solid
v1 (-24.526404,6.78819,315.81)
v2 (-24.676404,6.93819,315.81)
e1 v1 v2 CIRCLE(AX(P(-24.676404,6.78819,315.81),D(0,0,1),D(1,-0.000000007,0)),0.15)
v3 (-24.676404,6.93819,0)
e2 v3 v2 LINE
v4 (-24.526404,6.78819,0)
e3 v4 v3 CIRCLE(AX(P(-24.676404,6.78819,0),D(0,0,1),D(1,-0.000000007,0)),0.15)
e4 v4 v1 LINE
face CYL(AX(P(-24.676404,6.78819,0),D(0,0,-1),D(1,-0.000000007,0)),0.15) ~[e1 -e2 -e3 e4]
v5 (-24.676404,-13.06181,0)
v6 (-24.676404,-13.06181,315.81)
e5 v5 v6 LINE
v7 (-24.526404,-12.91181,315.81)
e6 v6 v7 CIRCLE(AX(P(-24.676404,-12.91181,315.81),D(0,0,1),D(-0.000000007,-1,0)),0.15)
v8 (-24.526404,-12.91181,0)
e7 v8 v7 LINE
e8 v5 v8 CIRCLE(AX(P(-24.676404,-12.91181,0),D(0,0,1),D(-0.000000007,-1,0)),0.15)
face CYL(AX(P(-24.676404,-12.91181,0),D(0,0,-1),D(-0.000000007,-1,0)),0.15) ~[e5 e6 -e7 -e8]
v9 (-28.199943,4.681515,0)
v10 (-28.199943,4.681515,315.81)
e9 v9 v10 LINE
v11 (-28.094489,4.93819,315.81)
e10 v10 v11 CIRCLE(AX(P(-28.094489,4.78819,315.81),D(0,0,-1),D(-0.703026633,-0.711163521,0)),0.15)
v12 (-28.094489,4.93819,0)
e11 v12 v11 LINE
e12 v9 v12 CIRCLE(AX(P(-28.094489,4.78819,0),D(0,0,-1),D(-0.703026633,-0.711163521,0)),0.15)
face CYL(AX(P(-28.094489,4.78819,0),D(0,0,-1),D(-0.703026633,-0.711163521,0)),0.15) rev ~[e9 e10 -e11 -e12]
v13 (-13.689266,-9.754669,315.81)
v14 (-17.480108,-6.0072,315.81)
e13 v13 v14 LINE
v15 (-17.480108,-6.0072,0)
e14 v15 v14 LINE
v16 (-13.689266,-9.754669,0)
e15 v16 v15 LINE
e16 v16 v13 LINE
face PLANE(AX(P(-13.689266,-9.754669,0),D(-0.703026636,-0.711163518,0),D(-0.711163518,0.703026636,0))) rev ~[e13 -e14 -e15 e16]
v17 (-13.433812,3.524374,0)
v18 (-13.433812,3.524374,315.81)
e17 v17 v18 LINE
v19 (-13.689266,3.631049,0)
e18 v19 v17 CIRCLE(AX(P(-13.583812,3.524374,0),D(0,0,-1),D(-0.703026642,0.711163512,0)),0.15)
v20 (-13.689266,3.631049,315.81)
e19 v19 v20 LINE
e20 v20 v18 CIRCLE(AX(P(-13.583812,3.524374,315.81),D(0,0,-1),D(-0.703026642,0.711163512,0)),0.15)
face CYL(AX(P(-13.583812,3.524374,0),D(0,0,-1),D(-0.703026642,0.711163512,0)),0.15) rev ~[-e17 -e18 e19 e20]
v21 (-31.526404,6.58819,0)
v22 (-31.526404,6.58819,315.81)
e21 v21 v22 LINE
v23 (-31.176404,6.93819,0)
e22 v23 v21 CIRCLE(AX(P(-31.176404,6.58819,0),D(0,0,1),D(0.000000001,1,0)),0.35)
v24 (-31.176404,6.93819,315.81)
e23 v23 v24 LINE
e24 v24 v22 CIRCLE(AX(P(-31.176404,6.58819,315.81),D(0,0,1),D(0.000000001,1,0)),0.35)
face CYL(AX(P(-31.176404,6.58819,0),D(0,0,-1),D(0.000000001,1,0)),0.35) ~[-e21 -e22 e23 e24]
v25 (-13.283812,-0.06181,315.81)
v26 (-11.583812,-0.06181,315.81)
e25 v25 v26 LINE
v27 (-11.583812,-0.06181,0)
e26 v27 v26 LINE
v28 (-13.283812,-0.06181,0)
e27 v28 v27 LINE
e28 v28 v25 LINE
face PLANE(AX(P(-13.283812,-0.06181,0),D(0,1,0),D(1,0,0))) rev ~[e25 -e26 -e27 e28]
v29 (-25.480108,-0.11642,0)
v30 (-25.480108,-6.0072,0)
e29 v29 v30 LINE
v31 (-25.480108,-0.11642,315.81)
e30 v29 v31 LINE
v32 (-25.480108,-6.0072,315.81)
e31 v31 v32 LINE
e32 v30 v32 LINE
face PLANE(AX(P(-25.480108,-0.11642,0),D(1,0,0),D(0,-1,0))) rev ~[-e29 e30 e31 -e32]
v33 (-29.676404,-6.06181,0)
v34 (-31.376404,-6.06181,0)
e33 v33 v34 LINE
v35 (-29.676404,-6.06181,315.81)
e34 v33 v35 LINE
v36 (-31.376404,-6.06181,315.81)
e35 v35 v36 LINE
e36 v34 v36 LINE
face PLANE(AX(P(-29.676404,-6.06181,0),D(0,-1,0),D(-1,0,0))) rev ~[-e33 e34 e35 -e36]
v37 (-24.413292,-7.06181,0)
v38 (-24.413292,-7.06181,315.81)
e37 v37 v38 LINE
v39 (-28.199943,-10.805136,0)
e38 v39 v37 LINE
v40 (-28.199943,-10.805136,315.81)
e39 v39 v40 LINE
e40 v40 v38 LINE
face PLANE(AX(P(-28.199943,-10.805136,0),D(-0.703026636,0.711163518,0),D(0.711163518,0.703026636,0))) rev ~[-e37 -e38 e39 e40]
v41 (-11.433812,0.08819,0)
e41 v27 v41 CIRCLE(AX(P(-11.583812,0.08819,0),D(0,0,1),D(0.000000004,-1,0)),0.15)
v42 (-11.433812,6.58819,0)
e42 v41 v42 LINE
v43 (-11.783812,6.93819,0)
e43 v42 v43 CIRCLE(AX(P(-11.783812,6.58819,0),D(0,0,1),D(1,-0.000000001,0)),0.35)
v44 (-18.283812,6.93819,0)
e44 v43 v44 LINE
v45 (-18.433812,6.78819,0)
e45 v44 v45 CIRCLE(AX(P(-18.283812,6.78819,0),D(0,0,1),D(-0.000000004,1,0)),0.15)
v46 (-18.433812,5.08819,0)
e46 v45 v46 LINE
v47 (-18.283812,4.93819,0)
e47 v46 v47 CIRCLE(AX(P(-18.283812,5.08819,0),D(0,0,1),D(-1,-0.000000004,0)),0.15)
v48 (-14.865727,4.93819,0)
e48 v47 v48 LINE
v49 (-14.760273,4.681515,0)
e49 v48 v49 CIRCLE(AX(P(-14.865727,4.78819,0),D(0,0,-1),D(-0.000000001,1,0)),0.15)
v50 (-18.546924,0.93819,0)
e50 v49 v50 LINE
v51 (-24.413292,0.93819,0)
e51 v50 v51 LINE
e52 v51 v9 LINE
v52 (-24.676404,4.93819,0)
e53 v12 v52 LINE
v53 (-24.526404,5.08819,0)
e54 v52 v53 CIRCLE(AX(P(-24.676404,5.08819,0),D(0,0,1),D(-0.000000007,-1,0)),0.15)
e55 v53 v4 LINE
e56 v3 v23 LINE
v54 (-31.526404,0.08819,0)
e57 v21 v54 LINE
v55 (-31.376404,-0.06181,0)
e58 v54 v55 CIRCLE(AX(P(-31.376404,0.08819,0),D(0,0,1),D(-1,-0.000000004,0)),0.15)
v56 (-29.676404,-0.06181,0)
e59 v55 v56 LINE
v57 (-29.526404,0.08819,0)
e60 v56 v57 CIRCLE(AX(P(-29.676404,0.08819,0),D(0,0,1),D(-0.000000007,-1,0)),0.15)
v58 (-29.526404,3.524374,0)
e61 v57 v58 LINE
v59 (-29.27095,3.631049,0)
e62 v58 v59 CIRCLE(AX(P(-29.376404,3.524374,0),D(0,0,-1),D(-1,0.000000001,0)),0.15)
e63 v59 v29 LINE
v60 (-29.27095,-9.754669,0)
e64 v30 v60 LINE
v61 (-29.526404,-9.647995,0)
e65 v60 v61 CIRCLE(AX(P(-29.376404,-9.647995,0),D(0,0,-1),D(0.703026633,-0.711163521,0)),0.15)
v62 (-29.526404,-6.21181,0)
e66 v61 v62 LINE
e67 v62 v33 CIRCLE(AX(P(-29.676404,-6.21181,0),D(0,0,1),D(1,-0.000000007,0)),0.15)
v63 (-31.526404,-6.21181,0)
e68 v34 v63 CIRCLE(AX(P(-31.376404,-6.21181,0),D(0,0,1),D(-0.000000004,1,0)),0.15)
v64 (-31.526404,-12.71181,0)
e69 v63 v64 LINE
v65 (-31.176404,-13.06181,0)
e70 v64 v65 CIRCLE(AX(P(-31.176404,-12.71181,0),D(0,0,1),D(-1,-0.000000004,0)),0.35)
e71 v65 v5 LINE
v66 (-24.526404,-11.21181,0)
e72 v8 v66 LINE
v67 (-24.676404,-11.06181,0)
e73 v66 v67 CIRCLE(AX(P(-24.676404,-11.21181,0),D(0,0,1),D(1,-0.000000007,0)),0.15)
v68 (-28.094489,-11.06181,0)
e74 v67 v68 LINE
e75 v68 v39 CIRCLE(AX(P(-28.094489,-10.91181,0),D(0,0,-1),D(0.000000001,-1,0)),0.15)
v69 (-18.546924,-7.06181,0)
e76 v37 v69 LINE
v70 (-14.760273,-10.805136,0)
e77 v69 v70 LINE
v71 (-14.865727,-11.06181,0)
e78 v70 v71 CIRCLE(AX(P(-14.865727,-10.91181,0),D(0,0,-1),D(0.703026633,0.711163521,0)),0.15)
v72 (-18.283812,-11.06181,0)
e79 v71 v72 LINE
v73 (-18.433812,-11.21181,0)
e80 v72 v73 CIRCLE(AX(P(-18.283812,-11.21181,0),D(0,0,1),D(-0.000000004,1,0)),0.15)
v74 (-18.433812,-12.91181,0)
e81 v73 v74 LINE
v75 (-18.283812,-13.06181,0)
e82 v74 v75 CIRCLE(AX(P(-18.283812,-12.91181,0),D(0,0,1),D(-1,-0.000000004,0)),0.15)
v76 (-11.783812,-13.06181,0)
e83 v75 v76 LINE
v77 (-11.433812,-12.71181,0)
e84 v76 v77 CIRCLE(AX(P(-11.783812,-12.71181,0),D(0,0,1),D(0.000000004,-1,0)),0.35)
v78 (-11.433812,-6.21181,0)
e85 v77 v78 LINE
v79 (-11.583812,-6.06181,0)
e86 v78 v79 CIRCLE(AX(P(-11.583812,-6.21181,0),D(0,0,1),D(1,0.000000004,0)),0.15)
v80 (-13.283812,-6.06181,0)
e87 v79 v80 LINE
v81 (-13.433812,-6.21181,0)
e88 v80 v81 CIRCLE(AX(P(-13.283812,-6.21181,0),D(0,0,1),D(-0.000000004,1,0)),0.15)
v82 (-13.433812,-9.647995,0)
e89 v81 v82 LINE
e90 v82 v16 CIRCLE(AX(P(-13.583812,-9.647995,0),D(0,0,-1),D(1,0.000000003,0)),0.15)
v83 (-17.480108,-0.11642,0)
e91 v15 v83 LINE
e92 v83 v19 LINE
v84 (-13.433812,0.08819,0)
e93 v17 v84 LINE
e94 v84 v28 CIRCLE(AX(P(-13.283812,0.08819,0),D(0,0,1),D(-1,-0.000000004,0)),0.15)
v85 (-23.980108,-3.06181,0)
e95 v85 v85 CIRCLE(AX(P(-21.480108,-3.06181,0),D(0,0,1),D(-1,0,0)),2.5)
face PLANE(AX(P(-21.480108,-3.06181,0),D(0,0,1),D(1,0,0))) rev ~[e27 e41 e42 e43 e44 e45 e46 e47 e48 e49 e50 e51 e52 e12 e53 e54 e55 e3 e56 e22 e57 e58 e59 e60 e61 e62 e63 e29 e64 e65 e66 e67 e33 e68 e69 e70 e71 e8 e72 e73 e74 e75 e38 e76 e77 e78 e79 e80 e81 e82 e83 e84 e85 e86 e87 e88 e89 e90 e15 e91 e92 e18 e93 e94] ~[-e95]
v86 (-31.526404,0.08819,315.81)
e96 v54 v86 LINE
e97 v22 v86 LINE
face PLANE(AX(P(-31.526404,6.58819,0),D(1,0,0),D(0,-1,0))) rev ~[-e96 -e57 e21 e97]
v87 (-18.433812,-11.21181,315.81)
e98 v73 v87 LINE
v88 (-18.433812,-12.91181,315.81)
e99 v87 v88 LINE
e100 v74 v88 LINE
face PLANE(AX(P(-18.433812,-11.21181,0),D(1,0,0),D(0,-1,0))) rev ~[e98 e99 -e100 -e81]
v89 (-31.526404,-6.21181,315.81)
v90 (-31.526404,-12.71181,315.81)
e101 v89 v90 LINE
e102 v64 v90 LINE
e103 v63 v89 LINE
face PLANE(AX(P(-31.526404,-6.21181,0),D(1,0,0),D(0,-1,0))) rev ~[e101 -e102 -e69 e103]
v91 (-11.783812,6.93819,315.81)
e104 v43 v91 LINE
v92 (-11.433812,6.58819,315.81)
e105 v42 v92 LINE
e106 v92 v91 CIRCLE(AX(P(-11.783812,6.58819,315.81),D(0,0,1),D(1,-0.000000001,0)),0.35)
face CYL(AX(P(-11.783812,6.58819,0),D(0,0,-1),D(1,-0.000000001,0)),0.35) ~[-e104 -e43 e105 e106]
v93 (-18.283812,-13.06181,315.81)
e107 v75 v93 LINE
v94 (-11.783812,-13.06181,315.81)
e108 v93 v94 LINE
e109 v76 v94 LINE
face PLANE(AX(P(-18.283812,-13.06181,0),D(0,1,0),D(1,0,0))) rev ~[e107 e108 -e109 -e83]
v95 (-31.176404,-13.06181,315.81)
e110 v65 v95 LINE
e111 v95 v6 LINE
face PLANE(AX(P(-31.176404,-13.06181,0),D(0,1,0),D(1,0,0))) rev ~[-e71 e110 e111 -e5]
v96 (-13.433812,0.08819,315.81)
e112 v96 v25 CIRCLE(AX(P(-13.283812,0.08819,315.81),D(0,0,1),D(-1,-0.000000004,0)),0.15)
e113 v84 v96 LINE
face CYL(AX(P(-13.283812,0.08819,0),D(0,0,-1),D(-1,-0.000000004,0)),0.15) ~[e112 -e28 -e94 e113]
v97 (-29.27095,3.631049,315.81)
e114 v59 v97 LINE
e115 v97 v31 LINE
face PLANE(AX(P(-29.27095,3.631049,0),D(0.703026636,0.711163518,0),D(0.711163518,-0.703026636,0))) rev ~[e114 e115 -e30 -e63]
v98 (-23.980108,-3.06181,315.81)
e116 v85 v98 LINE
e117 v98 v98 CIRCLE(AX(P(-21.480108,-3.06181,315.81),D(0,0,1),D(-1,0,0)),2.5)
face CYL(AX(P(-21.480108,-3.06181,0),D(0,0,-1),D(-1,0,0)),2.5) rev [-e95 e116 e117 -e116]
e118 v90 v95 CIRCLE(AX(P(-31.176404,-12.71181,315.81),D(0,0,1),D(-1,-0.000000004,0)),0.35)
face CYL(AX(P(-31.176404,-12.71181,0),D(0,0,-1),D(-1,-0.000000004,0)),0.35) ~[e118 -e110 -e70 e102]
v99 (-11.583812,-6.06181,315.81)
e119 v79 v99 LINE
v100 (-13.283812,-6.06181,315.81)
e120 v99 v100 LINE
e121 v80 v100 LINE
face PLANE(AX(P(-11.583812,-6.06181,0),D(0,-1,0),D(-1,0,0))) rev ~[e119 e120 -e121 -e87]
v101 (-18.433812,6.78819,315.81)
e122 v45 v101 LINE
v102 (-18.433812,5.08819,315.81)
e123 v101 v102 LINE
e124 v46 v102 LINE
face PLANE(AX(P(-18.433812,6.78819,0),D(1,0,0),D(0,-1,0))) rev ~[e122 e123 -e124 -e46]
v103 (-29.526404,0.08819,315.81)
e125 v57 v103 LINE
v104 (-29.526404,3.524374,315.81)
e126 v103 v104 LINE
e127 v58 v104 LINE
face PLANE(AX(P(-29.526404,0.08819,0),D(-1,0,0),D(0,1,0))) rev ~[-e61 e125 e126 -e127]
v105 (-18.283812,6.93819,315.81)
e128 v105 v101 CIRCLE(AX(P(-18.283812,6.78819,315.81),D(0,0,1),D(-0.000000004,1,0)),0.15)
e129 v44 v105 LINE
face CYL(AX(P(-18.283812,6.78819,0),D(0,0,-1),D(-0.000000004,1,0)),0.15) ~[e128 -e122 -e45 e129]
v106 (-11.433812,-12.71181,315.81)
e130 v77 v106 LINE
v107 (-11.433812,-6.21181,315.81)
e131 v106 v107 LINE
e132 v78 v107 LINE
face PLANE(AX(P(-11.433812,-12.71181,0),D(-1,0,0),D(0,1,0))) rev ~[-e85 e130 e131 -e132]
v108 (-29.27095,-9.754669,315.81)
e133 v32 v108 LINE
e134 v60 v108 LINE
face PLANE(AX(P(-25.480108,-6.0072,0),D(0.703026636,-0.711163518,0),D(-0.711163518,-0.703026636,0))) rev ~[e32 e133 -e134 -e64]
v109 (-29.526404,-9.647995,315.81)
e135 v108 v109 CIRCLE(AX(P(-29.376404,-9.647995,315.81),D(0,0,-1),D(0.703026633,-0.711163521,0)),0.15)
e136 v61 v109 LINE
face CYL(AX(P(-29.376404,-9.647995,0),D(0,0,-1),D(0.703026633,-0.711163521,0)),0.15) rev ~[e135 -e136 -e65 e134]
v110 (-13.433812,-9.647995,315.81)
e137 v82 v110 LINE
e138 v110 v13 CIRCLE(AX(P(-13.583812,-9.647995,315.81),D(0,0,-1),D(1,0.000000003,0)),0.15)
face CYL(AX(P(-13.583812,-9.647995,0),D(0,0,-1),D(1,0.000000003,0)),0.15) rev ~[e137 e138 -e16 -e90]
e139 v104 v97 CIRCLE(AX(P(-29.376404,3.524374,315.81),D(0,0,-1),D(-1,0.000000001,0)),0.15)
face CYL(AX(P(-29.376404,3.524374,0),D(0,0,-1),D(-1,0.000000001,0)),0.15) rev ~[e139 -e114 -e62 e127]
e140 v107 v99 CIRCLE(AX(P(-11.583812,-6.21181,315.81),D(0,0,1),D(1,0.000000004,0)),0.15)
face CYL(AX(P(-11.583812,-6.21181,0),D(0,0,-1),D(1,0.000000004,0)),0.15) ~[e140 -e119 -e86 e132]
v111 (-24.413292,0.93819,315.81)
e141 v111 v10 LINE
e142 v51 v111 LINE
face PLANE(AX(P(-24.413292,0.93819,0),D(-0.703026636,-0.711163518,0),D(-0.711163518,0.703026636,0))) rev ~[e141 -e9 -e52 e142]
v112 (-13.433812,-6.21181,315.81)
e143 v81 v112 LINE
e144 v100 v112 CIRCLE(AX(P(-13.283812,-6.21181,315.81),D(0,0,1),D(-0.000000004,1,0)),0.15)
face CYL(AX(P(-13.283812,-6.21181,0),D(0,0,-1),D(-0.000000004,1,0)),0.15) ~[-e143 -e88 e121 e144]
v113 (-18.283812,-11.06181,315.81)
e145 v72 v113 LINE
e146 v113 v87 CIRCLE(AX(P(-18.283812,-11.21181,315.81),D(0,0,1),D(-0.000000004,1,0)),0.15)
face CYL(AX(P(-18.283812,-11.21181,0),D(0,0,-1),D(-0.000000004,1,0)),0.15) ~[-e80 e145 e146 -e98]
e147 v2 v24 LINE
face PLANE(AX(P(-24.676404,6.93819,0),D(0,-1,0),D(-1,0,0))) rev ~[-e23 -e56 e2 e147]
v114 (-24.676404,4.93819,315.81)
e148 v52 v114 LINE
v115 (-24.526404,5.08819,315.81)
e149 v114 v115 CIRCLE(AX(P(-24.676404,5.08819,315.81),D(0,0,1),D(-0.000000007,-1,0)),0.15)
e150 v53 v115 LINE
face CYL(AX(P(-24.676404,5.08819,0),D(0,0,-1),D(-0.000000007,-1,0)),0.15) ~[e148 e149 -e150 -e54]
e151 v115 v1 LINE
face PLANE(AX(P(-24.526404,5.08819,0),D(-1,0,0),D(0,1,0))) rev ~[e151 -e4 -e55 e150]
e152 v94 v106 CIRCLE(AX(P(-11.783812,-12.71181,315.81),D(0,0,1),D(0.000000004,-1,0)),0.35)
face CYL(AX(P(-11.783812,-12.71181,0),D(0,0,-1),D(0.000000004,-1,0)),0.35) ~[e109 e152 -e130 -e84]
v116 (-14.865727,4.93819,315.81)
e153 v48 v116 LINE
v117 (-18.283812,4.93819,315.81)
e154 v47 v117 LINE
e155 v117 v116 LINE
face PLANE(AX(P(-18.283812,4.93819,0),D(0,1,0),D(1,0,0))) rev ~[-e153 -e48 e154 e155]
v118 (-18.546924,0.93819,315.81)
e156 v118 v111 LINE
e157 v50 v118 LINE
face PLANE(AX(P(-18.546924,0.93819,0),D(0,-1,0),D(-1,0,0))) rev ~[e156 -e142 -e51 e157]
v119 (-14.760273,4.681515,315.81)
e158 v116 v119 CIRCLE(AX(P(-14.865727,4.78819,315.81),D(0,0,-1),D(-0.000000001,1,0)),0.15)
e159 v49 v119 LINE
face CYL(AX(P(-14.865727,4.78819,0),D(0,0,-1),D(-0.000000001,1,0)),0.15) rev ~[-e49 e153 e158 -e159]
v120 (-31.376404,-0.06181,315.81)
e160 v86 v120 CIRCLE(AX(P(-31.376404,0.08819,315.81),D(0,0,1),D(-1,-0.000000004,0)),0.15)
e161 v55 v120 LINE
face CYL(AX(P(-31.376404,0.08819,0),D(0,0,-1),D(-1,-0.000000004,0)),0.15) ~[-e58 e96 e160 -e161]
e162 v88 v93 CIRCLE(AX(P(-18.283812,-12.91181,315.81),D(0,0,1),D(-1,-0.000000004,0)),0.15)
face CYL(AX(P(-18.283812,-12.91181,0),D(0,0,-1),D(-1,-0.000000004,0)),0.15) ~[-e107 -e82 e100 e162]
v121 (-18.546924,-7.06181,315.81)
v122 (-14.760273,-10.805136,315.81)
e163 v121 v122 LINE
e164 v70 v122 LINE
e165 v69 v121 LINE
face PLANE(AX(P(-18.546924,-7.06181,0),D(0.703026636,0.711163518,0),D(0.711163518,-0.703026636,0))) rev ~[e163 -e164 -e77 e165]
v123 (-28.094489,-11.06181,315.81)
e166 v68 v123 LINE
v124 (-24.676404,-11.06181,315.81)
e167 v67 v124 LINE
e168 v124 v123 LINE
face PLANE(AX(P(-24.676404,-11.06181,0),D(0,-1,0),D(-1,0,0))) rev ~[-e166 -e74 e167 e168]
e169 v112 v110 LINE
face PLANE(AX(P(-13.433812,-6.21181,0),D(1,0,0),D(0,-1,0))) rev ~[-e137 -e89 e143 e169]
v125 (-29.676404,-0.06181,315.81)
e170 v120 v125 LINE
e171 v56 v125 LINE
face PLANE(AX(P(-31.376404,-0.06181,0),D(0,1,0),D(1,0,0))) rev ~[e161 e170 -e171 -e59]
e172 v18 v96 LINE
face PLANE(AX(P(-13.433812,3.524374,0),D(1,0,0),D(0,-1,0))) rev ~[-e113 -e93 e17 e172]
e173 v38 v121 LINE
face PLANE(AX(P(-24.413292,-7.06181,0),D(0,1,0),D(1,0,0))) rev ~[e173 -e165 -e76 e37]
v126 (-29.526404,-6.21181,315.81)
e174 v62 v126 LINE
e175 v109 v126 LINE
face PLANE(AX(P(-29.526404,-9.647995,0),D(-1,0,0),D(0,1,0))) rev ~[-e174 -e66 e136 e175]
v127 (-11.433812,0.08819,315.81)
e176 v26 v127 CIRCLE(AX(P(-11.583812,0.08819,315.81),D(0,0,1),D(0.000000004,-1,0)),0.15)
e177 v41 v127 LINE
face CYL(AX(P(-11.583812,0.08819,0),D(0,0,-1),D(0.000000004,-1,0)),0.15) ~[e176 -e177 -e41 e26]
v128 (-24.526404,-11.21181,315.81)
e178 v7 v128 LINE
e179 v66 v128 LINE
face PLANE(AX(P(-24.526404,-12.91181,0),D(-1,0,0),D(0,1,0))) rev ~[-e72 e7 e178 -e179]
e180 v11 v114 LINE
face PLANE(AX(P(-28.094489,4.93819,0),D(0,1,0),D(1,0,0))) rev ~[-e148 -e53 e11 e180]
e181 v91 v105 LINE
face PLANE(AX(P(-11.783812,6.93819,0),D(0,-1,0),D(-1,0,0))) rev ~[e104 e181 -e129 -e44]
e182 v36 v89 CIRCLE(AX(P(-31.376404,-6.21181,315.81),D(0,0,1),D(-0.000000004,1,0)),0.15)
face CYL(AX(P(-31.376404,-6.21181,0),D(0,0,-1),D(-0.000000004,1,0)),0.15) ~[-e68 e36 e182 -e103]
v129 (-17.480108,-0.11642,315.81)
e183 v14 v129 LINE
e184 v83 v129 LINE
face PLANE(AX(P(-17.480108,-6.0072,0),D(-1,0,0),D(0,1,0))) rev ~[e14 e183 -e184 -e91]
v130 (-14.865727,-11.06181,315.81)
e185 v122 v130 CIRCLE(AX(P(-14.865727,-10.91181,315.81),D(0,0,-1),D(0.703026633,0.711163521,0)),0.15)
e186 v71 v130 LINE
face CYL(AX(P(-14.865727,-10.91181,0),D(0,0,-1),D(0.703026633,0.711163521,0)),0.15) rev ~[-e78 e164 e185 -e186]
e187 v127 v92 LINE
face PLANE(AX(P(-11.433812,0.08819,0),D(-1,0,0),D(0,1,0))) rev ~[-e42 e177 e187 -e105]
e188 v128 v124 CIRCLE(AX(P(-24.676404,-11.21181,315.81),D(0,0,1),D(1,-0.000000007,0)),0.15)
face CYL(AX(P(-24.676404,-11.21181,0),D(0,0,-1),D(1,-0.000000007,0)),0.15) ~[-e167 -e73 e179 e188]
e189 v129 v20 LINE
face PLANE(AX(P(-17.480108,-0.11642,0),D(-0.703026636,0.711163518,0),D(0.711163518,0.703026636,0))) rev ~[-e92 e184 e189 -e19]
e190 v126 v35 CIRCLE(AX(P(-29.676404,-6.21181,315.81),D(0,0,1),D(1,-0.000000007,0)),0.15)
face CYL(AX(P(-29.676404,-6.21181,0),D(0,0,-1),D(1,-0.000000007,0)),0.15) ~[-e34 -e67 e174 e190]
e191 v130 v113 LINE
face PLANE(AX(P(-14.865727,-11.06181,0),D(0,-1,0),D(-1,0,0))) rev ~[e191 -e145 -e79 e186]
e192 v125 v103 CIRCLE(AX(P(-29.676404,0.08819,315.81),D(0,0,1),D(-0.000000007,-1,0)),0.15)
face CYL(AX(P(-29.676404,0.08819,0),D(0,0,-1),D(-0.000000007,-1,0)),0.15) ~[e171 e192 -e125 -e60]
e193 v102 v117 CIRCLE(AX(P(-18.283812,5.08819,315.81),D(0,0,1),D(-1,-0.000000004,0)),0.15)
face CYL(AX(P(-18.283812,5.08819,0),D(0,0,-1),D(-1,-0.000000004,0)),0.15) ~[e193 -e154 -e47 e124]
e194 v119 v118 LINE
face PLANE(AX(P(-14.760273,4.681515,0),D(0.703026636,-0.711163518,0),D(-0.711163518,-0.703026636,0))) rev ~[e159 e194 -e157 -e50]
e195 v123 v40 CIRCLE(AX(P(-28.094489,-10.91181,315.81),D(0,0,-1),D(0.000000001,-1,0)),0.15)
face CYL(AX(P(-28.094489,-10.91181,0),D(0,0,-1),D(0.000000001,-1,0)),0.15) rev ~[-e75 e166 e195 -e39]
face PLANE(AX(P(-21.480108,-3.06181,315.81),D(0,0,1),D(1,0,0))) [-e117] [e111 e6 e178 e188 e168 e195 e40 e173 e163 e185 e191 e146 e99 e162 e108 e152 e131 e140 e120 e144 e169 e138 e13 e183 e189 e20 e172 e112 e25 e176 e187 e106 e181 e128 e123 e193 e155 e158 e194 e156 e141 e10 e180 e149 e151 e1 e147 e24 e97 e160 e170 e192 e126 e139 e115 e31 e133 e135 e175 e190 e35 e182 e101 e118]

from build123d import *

# Parameters (mm, degrees)
SKETCH1_R           = 2.5
BOSS_EXTRUDE1_DEPTH = 315.81


with BuildPart() as part:
    # Sketch1 → Boss-Extrude1 (new body)
    with BuildSketch(Plane.XY):
        with BuildLine():
            Line((-31.376404226, -0.06181021), (-29.676404226, -0.06181021))
            ThreePointArc((-29.676404226, -0.06181021), (-29.570338208, -0.017876227), (-29.526404226, 0.08818979))
            Line((-29.526404226, 0.08818979), (-29.526404226, 3.524374304))
            ThreePointArc((-29.526404226, 3.524374304), (-29.43420518, 3.662790523), (-29.27095023, 3.631048831))
            Line((-29.27095023, 3.631048831), (-25.480107929, -0.116419988))
            Line((-25.480107929, -0.116419988), (-25.480107929, -6.007200432))
            Line((-25.480107929, -6.007200432), (-29.27095023, -9.754669251))
            ThreePointArc((-29.27095023, -9.754669251), (-29.43420518, -9.786410942), (-29.526404226, -9.647994723))
            Line((-29.526404226, -9.647994723), (-29.526404226, -6.21181021))
            ThreePointArc((-29.526404226, -6.21181021), (-29.570338208, -6.105744193), (-29.676404226, -6.06181021))
            Line((-29.676404226, -6.06181021), (-31.376404226, -6.06181021))
            ThreePointArc((-31.376404226, -6.06181021), (-31.482470243, -6.105744193), (-31.526404226, -6.21181021))
            Line((-31.526404226, -6.21181021), (-31.526404226, -12.71181021))
            ThreePointArc((-31.526404226, -12.71181021), (-31.423891599, -12.959297583), (-31.176404226, -13.06181021))
            Line((-31.176404226, -13.06181021), (-24.676404226, -13.06181021))
            ThreePointArc((-24.676404226, -13.06181021), (-24.570338208, -13.017876227), (-24.526404226, -12.91181021))
            Line((-24.526404226, -12.91181021), (-24.526404226, -11.21181021))
            ThreePointArc((-24.526404226, -11.21181021), (-24.570338208, -11.105744193), (-24.676404226, -11.06181021))
            Line((-24.676404226, -11.06181021), (-28.094489023, -11.06181021))
            ThreePointArc((-28.094489023, -11.06181021), (-28.233235517, -10.96881381), (-28.199943018, -10.805135682))
            Line((-28.199943018, -10.805135682), (-24.41329202, -7.06181021))
            Line((-24.41329202, -7.06181021), (-18.546923839, -7.06181021))
            Line((-18.546923839, -7.06181021), (-14.760272841, -10.805135682))
            ThreePointArc((-14.760272841, -10.805135682), (-14.726980342, -10.96881381), (-14.865726836, -11.06181021))
            Line((-14.865726836, -11.06181021), (-18.283811633, -11.06181021))
            ThreePointArc((-18.283811633, -11.06181021), (-18.38987765, -11.105744193), (-18.433811633, -11.21181021))
            Line((-18.433811633, -11.21181021), (-18.433811633, -12.91181021))
            ThreePointArc((-18.433811633, -12.91181021), (-18.38987765, -13.017876227), (-18.283811633, -13.06181021))
            Line((-18.283811633, -13.06181021), (-11.783811633, -13.06181021))
            ThreePointArc((-11.783811633, -13.06181021), (-11.53632426, -12.959297583), (-11.433811633, -12.71181021))
            Line((-11.433811633, -12.71181021), (-11.433811633, -6.21181021))
            ThreePointArc((-11.433811633, -6.21181021), (-11.477745616, -6.105744193), (-11.583811633, -6.06181021))
            Line((-11.583811633, -6.06181021), (-13.283811633, -6.06181021))
            ThreePointArc((-13.283811633, -6.06181021), (-13.38987765, -6.105744193), (-13.433811633, -6.21181021))
            Line((-13.433811633, -6.21181021), (-13.433811633, -9.647994723))
            ThreePointArc((-13.433811633, -9.647994723), (-13.526010678, -9.786410942), (-13.689265628, -9.754669251))
            Line((-13.689265628, -9.754669251), (-17.480107929, -6.007200432))
            Line((-17.480107929, -6.007200432), (-17.480107929, -0.116419988))
            Line((-17.480107929, -0.116419988), (-13.689265628, 3.631048831))
            ThreePointArc((-13.689265628, 3.631048831), (-13.526010678, 3.662790523), (-13.433811633, 3.524374304))
            Line((-13.433811633, 3.524374304), (-13.433811633, 0.08818979))
            ThreePointArc((-13.433811633, 0.08818979), (-13.38987765, -0.017876227), (-13.283811633, -0.06181021))
            Line((-13.283811633, -0.06181021), (-11.583811633, -0.06181021))
            ThreePointArc((-11.583811633, -0.06181021), (-11.477745616, -0.017876227), (-11.433811633, 0.08818979))
            Line((-11.433811633, 0.08818979), (-11.433811633, 6.58818979))
            ThreePointArc((-11.433811633, 6.58818979), (-11.53632426, 6.835677164), (-11.783811633, 6.93818979))
            Line((-11.783811633, 6.93818979), (-18.283811633, 6.93818979))
            ThreePointArc((-18.283811633, 6.93818979), (-18.38987765, 6.894255807), (-18.433811633, 6.78818979))
            Line((-18.433811633, 6.78818979), (-18.433811633, 5.08818979))
            ThreePointArc((-18.433811633, 5.08818979), (-18.38987765, 4.982123773), (-18.283811633, 4.93818979))
            Line((-18.283811633, 4.93818979), (-14.865726836, 4.93818979))
            ThreePointArc((-14.865726836, 4.93818979), (-14.726980342, 4.84519339), (-14.760272841, 4.681515262))
            Line((-14.760272841, 4.681515262), (-18.546923839, 0.93818979))
            Line((-18.546923839, 0.93818979), (-24.41329202, 0.93818979))
            Line((-24.41329202, 0.93818979), (-28.199943018, 4.681515262))
            ThreePointArc((-28.199943018, 4.681515262), (-28.233235517, 4.84519339), (-28.094489023, 4.93818979))
            Line((-28.094489023, 4.93818979), (-24.676404226, 4.93818979))
            ThreePointArc((-24.676404226, 4.93818979), (-24.570338208, 4.982123773), (-24.526404226, 5.08818979))
            Line((-24.526404226, 5.08818979), (-24.526404226, 6.78818979))
            ThreePointArc((-24.526404226, 6.78818979), (-24.570338208, 6.894255807), (-24.676404226, 6.93818979))
            Line((-24.676404226, 6.93818979), (-31.176404226, 6.93818979))
            ThreePointArc((-31.176404226, 6.93818979), (-31.423891599, 6.835677164), (-31.526404226, 6.58818979))
            Line((-31.526404226, 6.58818979), (-31.526404226, 0.08818979))
            ThreePointArc((-31.526404226, 0.08818979), (-31.482470243, -0.017876227), (-31.376404226, -0.06181021))
        make_face()
        with Locations(Location((-21.480107929, -3.06181021, 0), (0, 0, 180))):
            Circle(SKETCH1_R, mode=Mode.SUBTRACT)
    extrude(amount=BOSS_EXTRUDE1_DEPTH)


solid = part.part
